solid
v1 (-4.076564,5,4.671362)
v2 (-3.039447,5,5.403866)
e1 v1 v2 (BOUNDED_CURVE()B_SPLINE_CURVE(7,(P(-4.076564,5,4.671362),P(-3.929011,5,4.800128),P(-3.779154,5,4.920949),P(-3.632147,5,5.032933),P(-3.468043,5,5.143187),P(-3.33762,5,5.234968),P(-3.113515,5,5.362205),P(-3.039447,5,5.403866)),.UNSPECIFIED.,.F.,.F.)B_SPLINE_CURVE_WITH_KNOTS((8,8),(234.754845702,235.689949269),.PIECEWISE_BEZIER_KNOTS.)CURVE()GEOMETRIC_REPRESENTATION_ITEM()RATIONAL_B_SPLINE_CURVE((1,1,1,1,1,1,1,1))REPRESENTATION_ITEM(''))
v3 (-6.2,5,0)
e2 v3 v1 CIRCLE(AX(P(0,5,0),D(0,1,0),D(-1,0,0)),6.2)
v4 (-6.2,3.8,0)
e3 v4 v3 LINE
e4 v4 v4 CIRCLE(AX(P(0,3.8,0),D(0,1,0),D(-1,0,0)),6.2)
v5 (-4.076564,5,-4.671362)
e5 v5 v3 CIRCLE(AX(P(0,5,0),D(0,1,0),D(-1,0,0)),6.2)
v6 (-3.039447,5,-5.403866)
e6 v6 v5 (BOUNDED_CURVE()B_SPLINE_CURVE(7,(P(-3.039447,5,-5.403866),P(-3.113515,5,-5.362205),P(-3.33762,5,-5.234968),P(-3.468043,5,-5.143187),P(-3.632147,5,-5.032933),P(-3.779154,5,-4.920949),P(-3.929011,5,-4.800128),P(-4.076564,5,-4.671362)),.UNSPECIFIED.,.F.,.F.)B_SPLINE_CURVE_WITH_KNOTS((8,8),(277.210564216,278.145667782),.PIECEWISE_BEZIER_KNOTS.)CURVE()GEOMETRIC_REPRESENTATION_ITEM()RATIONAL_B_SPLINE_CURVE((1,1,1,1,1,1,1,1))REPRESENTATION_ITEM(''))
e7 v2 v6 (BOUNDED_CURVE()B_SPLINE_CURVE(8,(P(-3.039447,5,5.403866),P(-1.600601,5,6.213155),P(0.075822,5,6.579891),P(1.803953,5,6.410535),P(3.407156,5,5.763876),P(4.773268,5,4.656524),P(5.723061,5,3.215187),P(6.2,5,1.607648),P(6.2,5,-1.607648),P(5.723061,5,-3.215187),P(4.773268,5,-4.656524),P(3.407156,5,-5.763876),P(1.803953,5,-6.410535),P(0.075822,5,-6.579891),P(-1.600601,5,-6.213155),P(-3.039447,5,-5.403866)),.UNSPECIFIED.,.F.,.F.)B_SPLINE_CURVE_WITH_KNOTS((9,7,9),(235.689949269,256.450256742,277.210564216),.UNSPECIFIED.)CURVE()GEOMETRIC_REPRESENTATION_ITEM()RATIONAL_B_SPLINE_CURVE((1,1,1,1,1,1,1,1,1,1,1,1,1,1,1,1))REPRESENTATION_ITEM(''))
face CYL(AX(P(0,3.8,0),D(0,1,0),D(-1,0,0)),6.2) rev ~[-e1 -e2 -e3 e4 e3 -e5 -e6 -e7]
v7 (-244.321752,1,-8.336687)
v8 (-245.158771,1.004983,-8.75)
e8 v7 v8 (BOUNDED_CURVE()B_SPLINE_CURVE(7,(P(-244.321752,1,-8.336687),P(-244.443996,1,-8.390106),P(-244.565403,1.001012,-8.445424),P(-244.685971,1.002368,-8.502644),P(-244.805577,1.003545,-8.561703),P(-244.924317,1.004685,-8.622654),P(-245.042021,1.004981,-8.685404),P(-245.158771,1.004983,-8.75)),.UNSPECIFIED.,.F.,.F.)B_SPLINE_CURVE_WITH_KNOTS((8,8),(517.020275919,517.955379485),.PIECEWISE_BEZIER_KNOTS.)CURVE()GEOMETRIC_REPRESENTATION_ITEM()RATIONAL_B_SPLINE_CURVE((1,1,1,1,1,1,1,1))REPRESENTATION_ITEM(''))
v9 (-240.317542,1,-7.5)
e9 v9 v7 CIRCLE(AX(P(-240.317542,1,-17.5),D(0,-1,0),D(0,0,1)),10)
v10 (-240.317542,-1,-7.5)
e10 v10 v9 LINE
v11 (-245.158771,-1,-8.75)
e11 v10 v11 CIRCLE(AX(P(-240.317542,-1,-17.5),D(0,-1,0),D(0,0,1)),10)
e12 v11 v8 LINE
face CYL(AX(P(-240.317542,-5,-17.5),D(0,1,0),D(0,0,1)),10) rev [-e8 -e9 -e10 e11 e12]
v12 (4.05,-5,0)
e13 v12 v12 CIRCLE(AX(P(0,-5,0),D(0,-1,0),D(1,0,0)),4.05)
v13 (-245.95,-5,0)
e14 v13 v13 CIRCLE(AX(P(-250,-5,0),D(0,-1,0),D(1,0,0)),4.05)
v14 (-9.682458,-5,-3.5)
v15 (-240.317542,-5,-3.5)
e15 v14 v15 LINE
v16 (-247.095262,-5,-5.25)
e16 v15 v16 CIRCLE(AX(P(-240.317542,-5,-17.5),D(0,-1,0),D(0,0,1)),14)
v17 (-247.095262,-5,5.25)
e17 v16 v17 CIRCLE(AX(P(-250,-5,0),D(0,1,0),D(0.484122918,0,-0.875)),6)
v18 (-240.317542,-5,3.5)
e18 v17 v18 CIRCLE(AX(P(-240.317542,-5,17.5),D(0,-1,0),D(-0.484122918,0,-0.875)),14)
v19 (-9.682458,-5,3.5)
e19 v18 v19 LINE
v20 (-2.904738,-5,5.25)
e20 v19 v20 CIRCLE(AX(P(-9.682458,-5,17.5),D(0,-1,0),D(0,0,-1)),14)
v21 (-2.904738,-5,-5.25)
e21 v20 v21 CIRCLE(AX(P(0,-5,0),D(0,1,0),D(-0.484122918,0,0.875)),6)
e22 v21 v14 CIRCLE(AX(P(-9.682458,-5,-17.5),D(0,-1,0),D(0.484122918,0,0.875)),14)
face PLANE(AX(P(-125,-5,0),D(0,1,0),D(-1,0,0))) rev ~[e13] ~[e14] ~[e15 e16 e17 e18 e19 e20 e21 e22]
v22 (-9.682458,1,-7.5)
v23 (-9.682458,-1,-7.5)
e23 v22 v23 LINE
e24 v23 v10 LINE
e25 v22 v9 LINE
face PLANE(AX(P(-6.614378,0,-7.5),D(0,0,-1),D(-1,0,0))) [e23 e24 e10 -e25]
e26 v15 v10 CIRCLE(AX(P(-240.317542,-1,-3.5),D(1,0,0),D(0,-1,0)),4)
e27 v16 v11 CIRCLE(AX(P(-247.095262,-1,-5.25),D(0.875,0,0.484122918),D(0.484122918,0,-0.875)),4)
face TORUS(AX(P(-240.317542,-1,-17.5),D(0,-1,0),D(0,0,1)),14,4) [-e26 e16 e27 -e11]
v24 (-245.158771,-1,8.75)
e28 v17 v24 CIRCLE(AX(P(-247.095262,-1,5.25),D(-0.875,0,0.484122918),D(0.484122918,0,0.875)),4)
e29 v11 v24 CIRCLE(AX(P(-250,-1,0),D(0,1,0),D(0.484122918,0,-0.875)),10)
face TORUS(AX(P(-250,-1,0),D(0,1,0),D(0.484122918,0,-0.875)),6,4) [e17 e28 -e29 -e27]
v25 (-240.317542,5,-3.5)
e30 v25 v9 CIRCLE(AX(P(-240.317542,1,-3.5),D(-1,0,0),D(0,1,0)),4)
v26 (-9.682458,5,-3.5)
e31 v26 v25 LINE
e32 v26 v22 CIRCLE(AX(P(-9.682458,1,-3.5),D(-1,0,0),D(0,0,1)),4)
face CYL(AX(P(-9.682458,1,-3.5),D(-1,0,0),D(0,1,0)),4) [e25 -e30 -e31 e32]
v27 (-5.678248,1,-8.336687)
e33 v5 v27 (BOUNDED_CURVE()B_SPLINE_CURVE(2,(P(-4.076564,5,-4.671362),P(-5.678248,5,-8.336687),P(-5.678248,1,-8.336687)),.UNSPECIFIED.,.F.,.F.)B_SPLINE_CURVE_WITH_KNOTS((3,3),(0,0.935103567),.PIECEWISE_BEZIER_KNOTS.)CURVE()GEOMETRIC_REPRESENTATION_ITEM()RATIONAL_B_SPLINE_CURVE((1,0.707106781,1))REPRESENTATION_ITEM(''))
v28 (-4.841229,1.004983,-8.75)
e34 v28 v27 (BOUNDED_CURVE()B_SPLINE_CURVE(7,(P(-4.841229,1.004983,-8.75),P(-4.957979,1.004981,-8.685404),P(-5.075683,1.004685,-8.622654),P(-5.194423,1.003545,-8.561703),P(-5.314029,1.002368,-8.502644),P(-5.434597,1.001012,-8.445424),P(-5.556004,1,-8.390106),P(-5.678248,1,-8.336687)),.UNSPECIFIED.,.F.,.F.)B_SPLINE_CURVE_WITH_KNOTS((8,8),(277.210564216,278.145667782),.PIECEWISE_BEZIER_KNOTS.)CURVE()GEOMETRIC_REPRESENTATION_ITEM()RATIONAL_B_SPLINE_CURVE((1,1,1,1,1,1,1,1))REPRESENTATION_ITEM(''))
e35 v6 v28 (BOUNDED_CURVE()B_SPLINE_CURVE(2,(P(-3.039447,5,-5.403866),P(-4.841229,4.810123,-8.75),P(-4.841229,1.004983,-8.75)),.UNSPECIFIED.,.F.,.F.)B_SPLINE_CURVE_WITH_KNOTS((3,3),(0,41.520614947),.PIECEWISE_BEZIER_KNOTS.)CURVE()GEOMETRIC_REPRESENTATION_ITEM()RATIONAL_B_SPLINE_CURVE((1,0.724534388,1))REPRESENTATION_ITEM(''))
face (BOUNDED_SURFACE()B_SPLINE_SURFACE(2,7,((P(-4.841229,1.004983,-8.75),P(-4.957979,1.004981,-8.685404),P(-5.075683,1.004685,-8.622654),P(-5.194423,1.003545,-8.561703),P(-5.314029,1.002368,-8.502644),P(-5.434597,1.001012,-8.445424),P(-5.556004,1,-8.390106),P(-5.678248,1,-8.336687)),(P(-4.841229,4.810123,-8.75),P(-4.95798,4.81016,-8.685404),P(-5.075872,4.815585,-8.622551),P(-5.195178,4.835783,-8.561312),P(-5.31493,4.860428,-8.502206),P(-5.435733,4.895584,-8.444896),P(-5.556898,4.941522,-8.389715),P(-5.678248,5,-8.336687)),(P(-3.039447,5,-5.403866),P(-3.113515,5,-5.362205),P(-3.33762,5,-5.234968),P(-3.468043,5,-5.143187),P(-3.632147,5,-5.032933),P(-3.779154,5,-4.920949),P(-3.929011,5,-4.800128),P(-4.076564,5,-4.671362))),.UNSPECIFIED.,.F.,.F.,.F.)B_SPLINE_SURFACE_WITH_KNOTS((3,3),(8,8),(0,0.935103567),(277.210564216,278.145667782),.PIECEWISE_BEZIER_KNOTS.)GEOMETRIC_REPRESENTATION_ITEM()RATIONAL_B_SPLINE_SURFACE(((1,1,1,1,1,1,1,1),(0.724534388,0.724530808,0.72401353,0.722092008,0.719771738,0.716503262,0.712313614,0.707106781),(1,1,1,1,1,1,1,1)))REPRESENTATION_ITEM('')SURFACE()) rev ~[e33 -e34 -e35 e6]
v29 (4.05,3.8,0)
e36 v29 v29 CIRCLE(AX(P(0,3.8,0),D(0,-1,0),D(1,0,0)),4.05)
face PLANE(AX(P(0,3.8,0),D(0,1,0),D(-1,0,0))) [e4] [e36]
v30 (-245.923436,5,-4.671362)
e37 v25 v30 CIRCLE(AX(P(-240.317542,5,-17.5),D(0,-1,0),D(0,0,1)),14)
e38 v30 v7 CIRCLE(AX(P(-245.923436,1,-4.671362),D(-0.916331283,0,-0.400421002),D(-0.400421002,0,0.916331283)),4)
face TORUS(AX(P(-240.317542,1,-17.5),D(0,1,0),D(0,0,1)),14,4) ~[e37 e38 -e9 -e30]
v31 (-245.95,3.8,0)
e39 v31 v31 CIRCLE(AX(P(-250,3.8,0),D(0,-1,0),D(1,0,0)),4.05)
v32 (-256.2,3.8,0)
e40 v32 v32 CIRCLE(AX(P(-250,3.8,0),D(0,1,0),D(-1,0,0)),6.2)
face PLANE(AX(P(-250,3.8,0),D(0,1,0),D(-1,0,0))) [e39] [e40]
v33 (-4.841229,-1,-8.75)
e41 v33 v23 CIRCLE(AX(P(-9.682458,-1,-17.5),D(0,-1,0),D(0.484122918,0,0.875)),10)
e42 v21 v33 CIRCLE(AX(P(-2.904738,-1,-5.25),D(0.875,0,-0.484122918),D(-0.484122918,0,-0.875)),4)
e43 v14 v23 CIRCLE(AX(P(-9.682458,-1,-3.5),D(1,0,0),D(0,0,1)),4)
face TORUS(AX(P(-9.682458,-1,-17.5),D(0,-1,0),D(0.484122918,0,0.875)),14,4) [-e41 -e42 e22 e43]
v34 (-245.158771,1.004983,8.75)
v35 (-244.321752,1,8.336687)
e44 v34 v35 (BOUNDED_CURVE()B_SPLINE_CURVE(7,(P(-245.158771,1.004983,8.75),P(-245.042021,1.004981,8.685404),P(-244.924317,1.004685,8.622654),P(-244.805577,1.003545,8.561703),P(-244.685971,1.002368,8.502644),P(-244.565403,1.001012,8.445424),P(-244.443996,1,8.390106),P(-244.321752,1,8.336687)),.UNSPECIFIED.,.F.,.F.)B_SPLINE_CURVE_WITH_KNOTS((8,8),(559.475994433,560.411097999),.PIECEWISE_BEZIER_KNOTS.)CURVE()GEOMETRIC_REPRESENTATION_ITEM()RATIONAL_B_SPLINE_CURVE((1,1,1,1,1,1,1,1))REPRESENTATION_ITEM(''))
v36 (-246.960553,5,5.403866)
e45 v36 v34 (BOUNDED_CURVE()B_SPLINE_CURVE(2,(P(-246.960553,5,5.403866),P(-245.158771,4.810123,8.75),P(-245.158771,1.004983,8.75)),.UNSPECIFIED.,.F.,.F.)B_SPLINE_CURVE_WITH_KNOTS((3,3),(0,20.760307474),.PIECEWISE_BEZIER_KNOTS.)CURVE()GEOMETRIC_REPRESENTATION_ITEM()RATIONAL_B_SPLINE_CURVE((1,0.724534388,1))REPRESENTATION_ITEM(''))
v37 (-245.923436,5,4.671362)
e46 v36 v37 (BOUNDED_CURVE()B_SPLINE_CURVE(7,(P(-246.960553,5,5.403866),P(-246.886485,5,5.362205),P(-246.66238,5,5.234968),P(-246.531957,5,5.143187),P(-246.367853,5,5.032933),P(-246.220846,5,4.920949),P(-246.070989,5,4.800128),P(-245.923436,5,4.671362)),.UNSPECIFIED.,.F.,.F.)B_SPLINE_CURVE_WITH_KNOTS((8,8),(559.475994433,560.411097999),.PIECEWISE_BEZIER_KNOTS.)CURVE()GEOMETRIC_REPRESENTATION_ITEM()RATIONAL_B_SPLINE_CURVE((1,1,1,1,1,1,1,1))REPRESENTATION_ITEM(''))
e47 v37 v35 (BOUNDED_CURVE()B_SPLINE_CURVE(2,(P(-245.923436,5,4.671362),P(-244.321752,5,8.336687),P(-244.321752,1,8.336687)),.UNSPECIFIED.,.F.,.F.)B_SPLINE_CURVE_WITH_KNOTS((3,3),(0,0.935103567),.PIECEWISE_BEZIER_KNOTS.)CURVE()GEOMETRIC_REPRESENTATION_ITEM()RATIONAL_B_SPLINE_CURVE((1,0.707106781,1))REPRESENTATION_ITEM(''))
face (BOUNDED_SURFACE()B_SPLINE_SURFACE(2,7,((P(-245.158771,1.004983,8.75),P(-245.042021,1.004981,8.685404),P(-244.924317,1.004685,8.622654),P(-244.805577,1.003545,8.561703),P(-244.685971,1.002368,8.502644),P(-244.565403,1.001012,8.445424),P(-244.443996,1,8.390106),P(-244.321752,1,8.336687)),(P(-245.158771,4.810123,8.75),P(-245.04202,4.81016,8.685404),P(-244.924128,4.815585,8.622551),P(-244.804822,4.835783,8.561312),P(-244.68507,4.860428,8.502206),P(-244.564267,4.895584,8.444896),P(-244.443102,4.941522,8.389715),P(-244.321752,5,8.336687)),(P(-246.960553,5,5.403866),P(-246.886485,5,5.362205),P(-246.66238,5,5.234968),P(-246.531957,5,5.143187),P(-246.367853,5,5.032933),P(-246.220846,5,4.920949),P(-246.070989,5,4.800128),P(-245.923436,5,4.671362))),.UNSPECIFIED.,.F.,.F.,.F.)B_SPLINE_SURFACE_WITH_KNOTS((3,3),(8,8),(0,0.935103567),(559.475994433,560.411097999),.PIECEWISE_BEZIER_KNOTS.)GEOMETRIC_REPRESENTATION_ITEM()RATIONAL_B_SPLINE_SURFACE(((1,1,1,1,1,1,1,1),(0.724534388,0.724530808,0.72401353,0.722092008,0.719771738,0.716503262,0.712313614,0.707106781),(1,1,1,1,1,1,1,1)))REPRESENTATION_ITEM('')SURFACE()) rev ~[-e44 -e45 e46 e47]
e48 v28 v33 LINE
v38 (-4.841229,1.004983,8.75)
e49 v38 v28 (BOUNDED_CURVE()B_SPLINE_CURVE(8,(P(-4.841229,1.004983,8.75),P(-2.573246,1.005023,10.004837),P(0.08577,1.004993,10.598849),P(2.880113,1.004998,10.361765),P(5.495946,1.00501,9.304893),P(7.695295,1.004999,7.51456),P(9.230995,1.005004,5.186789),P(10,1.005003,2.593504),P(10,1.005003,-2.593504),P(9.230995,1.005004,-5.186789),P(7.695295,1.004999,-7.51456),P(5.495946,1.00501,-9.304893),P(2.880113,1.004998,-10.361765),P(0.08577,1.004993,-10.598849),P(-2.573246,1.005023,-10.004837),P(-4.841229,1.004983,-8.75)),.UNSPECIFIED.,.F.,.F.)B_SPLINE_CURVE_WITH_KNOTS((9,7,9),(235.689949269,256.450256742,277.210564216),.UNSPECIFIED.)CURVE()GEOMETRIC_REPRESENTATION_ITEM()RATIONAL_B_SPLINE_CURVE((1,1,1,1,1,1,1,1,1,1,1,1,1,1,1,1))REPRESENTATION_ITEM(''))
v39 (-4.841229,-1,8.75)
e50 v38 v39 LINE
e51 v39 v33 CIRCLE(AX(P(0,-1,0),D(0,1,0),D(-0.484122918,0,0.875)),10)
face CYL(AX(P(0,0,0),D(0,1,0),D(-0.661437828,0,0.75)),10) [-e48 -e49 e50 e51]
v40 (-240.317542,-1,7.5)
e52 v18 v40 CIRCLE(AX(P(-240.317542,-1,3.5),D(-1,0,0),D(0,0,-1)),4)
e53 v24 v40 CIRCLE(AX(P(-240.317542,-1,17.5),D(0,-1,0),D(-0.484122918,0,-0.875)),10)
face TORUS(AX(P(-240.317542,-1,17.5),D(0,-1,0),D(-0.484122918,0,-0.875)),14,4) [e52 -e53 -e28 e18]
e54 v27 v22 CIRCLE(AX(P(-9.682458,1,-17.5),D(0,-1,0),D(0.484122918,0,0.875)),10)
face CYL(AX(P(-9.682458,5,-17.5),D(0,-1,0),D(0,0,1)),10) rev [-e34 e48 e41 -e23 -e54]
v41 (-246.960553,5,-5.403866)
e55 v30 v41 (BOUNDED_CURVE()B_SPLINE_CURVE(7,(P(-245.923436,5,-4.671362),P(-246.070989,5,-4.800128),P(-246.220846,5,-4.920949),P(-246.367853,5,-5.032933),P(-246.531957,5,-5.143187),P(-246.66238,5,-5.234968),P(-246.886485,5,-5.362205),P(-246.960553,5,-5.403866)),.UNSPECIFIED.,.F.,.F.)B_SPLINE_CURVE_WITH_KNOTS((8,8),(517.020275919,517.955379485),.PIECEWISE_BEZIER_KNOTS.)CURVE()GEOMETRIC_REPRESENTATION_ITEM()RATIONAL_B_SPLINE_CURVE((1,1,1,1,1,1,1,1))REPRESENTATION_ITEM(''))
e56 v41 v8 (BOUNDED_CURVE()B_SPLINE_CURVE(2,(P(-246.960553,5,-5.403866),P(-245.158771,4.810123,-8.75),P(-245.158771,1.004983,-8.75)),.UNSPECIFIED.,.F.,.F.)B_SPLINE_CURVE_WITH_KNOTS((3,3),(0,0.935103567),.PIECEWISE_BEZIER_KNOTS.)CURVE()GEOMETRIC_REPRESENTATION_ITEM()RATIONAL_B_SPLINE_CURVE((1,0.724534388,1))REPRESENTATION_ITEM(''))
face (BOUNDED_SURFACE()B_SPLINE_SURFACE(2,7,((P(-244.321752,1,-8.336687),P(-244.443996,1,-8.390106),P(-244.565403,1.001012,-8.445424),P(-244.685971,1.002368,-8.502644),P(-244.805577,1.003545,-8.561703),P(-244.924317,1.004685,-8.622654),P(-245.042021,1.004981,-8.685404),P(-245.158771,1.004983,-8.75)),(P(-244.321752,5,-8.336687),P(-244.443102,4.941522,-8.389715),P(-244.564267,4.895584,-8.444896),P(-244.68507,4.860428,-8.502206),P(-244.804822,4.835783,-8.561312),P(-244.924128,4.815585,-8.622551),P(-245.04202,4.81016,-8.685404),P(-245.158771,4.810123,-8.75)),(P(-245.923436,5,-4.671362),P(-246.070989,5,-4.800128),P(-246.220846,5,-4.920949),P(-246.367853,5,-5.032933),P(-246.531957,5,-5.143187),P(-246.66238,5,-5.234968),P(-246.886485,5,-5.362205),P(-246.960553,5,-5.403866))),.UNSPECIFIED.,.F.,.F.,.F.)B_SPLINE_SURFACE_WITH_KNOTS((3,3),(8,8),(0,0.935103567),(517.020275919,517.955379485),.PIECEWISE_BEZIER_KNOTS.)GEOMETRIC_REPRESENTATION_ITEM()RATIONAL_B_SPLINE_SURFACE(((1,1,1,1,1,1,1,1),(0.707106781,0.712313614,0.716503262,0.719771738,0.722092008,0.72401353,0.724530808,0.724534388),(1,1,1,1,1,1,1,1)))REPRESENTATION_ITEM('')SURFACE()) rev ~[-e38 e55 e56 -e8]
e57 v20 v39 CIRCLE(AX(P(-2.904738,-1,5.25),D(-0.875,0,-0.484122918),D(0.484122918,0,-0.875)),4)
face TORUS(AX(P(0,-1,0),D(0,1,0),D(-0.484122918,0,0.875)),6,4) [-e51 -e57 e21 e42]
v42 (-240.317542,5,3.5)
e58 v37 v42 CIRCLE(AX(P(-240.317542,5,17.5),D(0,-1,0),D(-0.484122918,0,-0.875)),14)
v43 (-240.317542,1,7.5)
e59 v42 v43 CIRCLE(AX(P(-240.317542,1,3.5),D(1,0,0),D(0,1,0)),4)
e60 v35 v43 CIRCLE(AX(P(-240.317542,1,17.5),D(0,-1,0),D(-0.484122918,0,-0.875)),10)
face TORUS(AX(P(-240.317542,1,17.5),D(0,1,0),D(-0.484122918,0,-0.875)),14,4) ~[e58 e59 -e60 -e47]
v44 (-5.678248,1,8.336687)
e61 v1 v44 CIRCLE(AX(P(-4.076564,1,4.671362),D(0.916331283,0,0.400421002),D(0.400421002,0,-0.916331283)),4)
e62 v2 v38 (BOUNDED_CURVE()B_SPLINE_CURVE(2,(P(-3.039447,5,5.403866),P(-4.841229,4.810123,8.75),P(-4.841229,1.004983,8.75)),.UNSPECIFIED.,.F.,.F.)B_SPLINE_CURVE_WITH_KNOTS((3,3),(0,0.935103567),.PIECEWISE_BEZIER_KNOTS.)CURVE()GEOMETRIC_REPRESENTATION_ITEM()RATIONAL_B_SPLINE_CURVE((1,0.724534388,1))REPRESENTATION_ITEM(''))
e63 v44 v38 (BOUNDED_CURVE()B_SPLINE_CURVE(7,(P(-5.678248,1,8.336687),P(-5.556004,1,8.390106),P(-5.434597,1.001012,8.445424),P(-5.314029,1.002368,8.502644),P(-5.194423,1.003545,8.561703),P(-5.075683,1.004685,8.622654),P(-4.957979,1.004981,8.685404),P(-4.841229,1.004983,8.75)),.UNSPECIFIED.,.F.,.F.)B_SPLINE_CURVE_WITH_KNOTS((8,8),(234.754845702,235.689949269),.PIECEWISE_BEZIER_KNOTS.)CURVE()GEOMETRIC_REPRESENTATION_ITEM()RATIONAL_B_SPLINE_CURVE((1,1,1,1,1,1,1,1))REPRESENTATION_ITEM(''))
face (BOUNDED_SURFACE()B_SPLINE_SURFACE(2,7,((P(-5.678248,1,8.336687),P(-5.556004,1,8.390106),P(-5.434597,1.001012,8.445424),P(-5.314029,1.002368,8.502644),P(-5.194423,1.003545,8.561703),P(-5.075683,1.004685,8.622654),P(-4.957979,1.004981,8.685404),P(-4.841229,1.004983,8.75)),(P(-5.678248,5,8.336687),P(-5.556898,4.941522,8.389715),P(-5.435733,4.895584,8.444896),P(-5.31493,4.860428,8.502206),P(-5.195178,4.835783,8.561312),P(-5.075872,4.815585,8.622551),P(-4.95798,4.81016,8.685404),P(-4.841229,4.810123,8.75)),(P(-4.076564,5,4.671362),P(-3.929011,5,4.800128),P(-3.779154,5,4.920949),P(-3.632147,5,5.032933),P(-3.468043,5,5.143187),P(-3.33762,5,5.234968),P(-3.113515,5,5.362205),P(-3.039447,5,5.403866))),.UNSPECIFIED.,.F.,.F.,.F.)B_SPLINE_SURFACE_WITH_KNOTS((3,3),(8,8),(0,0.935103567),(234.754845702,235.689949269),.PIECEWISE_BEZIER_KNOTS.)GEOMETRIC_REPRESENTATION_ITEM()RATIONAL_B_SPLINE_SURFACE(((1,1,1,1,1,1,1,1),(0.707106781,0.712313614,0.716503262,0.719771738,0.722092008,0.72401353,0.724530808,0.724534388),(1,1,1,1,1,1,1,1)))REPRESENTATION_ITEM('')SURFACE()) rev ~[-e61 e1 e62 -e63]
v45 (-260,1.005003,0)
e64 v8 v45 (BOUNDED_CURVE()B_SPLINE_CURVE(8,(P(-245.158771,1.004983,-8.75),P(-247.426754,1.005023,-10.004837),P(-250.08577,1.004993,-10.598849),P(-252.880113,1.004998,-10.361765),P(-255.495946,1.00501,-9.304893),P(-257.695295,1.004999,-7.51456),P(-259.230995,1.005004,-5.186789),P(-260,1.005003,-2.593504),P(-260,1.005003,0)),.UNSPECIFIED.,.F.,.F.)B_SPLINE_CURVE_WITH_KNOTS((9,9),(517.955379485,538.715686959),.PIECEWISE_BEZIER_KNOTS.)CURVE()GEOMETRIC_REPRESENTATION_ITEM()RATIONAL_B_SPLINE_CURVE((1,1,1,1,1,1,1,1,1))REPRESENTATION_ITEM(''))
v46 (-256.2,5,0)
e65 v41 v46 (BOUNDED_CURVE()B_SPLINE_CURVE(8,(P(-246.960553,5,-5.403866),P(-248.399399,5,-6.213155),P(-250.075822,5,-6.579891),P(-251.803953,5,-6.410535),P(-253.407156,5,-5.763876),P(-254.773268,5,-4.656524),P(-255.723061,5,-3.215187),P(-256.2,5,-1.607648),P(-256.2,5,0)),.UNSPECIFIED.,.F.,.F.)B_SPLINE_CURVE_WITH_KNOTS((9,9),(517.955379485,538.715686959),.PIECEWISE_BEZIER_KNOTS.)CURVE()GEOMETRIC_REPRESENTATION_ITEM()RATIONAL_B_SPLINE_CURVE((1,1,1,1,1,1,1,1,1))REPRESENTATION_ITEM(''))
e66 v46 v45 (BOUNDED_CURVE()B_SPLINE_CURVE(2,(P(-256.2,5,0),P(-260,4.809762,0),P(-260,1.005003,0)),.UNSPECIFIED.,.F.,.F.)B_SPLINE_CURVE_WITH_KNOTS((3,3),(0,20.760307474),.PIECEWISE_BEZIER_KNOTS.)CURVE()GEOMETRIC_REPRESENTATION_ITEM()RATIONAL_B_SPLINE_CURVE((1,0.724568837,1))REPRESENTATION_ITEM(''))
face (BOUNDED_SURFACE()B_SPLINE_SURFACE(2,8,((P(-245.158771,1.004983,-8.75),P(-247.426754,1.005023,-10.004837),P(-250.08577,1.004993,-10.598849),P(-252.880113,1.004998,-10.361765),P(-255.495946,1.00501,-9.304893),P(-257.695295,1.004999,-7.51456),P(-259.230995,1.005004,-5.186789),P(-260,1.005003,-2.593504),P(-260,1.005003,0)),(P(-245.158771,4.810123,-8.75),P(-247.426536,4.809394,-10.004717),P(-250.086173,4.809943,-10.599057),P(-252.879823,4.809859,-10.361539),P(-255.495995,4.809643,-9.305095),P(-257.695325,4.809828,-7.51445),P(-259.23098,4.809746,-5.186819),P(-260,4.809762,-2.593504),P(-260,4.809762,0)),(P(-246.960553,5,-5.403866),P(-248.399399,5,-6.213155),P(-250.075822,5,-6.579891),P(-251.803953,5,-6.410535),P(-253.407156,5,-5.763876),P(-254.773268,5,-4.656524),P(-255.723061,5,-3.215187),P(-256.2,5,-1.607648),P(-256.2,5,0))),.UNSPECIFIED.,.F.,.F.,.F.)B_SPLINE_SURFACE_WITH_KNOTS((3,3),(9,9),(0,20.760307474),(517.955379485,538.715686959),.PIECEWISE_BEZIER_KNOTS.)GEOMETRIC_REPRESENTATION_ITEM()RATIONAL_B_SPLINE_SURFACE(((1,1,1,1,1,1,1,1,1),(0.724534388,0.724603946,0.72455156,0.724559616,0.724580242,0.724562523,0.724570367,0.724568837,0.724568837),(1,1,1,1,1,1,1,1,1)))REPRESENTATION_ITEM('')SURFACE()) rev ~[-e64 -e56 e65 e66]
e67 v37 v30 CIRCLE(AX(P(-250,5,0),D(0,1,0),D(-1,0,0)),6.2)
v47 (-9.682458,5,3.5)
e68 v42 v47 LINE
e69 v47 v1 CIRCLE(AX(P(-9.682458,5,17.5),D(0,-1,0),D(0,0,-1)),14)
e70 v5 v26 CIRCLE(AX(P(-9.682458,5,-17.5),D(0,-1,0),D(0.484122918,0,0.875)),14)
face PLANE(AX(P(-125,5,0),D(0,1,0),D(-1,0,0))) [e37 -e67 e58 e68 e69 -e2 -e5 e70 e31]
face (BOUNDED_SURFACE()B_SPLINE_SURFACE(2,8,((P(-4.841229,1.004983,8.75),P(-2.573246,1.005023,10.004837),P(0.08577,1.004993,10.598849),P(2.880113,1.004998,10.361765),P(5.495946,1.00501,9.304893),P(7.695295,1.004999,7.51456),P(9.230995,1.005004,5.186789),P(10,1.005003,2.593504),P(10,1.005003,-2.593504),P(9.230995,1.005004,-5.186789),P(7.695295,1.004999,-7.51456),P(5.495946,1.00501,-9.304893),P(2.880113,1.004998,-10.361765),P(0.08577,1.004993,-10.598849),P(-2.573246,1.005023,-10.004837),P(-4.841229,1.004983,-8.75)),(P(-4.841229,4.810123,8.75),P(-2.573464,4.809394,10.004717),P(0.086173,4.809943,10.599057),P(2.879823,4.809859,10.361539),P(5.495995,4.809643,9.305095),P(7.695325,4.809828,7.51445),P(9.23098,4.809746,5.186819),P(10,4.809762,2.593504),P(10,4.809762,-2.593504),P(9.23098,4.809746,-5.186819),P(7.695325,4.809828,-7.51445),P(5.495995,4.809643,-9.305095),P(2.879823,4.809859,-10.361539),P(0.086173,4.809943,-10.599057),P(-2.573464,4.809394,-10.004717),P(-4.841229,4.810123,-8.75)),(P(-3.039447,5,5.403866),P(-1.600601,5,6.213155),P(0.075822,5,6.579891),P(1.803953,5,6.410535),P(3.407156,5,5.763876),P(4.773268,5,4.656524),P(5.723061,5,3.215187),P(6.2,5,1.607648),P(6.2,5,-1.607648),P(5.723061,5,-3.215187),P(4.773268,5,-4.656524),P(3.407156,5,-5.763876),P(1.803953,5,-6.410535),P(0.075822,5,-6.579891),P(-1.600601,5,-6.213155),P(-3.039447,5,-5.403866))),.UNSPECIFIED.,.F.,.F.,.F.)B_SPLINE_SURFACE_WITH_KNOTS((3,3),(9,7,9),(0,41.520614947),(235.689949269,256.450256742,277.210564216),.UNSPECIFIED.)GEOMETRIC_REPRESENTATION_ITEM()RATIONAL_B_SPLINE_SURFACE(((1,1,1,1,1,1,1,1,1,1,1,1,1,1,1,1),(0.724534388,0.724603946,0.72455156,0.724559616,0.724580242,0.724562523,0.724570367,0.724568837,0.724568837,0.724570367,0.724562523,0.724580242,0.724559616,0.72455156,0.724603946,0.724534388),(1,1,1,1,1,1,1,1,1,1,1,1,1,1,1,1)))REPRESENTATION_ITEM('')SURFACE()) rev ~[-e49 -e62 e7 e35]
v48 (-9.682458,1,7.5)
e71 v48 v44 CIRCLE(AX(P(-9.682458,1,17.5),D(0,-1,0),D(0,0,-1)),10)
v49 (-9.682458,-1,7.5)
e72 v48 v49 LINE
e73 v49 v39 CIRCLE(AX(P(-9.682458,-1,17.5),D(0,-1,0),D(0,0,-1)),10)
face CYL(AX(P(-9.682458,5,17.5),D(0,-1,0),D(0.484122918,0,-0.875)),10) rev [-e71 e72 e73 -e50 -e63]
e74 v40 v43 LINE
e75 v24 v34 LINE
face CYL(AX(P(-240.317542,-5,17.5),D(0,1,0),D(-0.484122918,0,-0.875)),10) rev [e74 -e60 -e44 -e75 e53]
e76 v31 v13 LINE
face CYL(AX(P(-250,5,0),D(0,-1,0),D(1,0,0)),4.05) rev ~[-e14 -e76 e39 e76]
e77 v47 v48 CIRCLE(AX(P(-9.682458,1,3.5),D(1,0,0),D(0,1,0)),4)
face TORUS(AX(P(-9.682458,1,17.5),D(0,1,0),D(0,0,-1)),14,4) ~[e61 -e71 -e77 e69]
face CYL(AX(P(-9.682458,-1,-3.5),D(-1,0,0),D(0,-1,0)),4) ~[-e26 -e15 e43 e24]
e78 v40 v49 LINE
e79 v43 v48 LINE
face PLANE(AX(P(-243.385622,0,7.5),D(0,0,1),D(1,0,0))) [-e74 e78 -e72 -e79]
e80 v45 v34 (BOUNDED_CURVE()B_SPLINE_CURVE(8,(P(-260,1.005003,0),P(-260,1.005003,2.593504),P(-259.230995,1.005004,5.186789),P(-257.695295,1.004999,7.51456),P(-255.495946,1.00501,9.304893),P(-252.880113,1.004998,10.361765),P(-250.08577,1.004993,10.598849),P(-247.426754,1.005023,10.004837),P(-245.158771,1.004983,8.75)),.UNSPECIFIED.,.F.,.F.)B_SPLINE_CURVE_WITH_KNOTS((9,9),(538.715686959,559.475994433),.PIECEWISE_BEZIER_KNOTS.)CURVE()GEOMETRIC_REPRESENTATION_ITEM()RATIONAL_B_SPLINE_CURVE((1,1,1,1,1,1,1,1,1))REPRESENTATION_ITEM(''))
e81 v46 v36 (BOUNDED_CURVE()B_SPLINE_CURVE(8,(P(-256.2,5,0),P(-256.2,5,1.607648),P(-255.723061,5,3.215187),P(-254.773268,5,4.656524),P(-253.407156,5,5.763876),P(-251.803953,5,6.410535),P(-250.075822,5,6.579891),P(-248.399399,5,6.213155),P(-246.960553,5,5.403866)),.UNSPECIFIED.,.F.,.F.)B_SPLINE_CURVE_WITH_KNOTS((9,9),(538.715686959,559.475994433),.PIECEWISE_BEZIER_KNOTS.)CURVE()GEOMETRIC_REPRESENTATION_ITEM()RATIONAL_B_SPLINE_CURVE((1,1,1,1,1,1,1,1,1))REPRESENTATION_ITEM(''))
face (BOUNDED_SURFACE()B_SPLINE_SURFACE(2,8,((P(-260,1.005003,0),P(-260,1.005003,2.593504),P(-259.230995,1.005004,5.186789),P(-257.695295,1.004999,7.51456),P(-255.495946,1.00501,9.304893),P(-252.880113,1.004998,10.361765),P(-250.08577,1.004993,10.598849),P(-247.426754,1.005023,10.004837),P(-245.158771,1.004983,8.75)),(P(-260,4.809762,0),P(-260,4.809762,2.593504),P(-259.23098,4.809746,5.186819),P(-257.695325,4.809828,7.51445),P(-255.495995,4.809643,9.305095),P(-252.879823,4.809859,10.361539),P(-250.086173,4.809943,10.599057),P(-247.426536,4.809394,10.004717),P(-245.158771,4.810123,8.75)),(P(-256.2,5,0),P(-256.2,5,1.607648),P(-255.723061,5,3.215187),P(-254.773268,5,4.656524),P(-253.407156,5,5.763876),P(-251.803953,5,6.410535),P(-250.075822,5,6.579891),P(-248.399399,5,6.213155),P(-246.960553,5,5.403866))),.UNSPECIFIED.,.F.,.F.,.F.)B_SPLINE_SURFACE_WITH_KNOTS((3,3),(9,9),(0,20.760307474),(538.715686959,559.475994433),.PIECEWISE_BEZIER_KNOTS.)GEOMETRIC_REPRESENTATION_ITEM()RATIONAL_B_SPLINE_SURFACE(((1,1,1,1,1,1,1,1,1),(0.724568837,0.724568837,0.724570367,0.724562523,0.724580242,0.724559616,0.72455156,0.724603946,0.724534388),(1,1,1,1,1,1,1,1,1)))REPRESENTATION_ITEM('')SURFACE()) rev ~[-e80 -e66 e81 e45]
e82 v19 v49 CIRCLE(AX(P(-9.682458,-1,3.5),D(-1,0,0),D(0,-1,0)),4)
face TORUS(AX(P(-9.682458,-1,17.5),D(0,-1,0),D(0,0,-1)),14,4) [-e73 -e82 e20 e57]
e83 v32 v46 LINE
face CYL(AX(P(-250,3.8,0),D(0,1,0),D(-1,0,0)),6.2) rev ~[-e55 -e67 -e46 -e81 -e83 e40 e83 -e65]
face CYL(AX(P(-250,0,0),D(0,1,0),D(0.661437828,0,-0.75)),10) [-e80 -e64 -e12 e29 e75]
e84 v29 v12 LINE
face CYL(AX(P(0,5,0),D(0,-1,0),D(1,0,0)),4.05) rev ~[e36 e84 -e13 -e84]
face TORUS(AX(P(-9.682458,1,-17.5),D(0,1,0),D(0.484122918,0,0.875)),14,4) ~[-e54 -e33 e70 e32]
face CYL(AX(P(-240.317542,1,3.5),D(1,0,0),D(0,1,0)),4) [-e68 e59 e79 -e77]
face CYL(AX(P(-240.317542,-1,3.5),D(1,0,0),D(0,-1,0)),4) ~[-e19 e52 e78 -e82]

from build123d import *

# Parameters (mm, degrees)
SALIENTE_EXTRUIR1_DEPTH                              = 5
REFRENTADO_PARA_TORNILLO_CON_CABEZA_PLAN_D           = 8.1
REFRENTADO_PARA_TORNILLO_CON_CABEZA_PLAN_CBORE_D     = 12.4
REFRENTADO_PARA_TORNILLO_CON_CABEZA_PLAN_CBORE_DEPTH = 1.2
REDONDEO7_R                                          = 10
REDONDEO6_R                                          = 4


with BuildPart() as part:
    # Croquis1 → Saliente-Extruir1 (new, symmetric)
    with BuildSketch(Plane(origin=(0, 0, 0), x_dir=(-1, 0, 0), z_dir=(0, 1, 0))):
        with BuildLine():
            Line((6.614378278, -7.5), (243.385621722, -7.5))
            ThreePointArc((243.385621722, -7.5), (260, 0), (243.385621722, 7.5))
            Line((243.385621722, 7.5), (6.614378278, 7.5))
            ThreePointArc((6.614378278, 7.5), (-10, 0), (6.614378278, -7.5))
        make_face()
    extrude(amount=SALIENTE_EXTRUIR1_DEPTH, both=True)

    # Refrentado para tornillo con cabeza plana de M81 (through all)
    with Locations(Plane(origin=(0, 5, 0), x_dir=(-1, 0, 0), z_dir=(0, 1, 0))):
        with Locations((0, 0), (250, 0)):
            CounterBoreHole(REFRENTADO_PARA_TORNILLO_CON_CABEZA_PLAN_D / 2, REFRENTADO_PARA_TORNILLO_CON_CABEZA_PLAN_CBORE_D / 2, REFRENTADO_PARA_TORNILLO_CON_CABEZA_PLAN_CBORE_DEPTH)

    # Redondeo7
    redondeo7_edges = [part.edges().sort_by_distance(p)[0] for p in [
        (-243.385621722, 0, -7.5),
        (-6.614378278, 0, -7.5),
        (-6.614378278, 0, 7.5),
        (-243.385621722, 0, 7.5),
    ]]
    fillet(redondeo7_edges, radius=REDONDEO7_R)

    # Redondeo6
    redondeo6_edges = [part.edges().sort_by_distance(p)[0] for p in [
        (-260, -5, 0),
        (-125, 5, 7.5),
        (-125, -5, 7.5),
        (-125, 5, -7.5),
        (-125, -5, -7.5),
        (-7.182458366, -5, -7.817541634),
        (-7.182458366, -5, 7.817541634),
        (-242.817541634, -5, 7.817541634),
        (-242.817541634, -5, -7.817541634),
        (-7.182458366, 5, -7.817541634),
        (-7.182458366, 5, 7.817541634),
        (-242.817541634, 5, 7.817541634),
        (-242.817541634, 5, -7.817541634),
        (10, -5, 0),
    ]]
    fillet(redondeo6_edges, radius=REDONDEO6_R)


solid = part.part
